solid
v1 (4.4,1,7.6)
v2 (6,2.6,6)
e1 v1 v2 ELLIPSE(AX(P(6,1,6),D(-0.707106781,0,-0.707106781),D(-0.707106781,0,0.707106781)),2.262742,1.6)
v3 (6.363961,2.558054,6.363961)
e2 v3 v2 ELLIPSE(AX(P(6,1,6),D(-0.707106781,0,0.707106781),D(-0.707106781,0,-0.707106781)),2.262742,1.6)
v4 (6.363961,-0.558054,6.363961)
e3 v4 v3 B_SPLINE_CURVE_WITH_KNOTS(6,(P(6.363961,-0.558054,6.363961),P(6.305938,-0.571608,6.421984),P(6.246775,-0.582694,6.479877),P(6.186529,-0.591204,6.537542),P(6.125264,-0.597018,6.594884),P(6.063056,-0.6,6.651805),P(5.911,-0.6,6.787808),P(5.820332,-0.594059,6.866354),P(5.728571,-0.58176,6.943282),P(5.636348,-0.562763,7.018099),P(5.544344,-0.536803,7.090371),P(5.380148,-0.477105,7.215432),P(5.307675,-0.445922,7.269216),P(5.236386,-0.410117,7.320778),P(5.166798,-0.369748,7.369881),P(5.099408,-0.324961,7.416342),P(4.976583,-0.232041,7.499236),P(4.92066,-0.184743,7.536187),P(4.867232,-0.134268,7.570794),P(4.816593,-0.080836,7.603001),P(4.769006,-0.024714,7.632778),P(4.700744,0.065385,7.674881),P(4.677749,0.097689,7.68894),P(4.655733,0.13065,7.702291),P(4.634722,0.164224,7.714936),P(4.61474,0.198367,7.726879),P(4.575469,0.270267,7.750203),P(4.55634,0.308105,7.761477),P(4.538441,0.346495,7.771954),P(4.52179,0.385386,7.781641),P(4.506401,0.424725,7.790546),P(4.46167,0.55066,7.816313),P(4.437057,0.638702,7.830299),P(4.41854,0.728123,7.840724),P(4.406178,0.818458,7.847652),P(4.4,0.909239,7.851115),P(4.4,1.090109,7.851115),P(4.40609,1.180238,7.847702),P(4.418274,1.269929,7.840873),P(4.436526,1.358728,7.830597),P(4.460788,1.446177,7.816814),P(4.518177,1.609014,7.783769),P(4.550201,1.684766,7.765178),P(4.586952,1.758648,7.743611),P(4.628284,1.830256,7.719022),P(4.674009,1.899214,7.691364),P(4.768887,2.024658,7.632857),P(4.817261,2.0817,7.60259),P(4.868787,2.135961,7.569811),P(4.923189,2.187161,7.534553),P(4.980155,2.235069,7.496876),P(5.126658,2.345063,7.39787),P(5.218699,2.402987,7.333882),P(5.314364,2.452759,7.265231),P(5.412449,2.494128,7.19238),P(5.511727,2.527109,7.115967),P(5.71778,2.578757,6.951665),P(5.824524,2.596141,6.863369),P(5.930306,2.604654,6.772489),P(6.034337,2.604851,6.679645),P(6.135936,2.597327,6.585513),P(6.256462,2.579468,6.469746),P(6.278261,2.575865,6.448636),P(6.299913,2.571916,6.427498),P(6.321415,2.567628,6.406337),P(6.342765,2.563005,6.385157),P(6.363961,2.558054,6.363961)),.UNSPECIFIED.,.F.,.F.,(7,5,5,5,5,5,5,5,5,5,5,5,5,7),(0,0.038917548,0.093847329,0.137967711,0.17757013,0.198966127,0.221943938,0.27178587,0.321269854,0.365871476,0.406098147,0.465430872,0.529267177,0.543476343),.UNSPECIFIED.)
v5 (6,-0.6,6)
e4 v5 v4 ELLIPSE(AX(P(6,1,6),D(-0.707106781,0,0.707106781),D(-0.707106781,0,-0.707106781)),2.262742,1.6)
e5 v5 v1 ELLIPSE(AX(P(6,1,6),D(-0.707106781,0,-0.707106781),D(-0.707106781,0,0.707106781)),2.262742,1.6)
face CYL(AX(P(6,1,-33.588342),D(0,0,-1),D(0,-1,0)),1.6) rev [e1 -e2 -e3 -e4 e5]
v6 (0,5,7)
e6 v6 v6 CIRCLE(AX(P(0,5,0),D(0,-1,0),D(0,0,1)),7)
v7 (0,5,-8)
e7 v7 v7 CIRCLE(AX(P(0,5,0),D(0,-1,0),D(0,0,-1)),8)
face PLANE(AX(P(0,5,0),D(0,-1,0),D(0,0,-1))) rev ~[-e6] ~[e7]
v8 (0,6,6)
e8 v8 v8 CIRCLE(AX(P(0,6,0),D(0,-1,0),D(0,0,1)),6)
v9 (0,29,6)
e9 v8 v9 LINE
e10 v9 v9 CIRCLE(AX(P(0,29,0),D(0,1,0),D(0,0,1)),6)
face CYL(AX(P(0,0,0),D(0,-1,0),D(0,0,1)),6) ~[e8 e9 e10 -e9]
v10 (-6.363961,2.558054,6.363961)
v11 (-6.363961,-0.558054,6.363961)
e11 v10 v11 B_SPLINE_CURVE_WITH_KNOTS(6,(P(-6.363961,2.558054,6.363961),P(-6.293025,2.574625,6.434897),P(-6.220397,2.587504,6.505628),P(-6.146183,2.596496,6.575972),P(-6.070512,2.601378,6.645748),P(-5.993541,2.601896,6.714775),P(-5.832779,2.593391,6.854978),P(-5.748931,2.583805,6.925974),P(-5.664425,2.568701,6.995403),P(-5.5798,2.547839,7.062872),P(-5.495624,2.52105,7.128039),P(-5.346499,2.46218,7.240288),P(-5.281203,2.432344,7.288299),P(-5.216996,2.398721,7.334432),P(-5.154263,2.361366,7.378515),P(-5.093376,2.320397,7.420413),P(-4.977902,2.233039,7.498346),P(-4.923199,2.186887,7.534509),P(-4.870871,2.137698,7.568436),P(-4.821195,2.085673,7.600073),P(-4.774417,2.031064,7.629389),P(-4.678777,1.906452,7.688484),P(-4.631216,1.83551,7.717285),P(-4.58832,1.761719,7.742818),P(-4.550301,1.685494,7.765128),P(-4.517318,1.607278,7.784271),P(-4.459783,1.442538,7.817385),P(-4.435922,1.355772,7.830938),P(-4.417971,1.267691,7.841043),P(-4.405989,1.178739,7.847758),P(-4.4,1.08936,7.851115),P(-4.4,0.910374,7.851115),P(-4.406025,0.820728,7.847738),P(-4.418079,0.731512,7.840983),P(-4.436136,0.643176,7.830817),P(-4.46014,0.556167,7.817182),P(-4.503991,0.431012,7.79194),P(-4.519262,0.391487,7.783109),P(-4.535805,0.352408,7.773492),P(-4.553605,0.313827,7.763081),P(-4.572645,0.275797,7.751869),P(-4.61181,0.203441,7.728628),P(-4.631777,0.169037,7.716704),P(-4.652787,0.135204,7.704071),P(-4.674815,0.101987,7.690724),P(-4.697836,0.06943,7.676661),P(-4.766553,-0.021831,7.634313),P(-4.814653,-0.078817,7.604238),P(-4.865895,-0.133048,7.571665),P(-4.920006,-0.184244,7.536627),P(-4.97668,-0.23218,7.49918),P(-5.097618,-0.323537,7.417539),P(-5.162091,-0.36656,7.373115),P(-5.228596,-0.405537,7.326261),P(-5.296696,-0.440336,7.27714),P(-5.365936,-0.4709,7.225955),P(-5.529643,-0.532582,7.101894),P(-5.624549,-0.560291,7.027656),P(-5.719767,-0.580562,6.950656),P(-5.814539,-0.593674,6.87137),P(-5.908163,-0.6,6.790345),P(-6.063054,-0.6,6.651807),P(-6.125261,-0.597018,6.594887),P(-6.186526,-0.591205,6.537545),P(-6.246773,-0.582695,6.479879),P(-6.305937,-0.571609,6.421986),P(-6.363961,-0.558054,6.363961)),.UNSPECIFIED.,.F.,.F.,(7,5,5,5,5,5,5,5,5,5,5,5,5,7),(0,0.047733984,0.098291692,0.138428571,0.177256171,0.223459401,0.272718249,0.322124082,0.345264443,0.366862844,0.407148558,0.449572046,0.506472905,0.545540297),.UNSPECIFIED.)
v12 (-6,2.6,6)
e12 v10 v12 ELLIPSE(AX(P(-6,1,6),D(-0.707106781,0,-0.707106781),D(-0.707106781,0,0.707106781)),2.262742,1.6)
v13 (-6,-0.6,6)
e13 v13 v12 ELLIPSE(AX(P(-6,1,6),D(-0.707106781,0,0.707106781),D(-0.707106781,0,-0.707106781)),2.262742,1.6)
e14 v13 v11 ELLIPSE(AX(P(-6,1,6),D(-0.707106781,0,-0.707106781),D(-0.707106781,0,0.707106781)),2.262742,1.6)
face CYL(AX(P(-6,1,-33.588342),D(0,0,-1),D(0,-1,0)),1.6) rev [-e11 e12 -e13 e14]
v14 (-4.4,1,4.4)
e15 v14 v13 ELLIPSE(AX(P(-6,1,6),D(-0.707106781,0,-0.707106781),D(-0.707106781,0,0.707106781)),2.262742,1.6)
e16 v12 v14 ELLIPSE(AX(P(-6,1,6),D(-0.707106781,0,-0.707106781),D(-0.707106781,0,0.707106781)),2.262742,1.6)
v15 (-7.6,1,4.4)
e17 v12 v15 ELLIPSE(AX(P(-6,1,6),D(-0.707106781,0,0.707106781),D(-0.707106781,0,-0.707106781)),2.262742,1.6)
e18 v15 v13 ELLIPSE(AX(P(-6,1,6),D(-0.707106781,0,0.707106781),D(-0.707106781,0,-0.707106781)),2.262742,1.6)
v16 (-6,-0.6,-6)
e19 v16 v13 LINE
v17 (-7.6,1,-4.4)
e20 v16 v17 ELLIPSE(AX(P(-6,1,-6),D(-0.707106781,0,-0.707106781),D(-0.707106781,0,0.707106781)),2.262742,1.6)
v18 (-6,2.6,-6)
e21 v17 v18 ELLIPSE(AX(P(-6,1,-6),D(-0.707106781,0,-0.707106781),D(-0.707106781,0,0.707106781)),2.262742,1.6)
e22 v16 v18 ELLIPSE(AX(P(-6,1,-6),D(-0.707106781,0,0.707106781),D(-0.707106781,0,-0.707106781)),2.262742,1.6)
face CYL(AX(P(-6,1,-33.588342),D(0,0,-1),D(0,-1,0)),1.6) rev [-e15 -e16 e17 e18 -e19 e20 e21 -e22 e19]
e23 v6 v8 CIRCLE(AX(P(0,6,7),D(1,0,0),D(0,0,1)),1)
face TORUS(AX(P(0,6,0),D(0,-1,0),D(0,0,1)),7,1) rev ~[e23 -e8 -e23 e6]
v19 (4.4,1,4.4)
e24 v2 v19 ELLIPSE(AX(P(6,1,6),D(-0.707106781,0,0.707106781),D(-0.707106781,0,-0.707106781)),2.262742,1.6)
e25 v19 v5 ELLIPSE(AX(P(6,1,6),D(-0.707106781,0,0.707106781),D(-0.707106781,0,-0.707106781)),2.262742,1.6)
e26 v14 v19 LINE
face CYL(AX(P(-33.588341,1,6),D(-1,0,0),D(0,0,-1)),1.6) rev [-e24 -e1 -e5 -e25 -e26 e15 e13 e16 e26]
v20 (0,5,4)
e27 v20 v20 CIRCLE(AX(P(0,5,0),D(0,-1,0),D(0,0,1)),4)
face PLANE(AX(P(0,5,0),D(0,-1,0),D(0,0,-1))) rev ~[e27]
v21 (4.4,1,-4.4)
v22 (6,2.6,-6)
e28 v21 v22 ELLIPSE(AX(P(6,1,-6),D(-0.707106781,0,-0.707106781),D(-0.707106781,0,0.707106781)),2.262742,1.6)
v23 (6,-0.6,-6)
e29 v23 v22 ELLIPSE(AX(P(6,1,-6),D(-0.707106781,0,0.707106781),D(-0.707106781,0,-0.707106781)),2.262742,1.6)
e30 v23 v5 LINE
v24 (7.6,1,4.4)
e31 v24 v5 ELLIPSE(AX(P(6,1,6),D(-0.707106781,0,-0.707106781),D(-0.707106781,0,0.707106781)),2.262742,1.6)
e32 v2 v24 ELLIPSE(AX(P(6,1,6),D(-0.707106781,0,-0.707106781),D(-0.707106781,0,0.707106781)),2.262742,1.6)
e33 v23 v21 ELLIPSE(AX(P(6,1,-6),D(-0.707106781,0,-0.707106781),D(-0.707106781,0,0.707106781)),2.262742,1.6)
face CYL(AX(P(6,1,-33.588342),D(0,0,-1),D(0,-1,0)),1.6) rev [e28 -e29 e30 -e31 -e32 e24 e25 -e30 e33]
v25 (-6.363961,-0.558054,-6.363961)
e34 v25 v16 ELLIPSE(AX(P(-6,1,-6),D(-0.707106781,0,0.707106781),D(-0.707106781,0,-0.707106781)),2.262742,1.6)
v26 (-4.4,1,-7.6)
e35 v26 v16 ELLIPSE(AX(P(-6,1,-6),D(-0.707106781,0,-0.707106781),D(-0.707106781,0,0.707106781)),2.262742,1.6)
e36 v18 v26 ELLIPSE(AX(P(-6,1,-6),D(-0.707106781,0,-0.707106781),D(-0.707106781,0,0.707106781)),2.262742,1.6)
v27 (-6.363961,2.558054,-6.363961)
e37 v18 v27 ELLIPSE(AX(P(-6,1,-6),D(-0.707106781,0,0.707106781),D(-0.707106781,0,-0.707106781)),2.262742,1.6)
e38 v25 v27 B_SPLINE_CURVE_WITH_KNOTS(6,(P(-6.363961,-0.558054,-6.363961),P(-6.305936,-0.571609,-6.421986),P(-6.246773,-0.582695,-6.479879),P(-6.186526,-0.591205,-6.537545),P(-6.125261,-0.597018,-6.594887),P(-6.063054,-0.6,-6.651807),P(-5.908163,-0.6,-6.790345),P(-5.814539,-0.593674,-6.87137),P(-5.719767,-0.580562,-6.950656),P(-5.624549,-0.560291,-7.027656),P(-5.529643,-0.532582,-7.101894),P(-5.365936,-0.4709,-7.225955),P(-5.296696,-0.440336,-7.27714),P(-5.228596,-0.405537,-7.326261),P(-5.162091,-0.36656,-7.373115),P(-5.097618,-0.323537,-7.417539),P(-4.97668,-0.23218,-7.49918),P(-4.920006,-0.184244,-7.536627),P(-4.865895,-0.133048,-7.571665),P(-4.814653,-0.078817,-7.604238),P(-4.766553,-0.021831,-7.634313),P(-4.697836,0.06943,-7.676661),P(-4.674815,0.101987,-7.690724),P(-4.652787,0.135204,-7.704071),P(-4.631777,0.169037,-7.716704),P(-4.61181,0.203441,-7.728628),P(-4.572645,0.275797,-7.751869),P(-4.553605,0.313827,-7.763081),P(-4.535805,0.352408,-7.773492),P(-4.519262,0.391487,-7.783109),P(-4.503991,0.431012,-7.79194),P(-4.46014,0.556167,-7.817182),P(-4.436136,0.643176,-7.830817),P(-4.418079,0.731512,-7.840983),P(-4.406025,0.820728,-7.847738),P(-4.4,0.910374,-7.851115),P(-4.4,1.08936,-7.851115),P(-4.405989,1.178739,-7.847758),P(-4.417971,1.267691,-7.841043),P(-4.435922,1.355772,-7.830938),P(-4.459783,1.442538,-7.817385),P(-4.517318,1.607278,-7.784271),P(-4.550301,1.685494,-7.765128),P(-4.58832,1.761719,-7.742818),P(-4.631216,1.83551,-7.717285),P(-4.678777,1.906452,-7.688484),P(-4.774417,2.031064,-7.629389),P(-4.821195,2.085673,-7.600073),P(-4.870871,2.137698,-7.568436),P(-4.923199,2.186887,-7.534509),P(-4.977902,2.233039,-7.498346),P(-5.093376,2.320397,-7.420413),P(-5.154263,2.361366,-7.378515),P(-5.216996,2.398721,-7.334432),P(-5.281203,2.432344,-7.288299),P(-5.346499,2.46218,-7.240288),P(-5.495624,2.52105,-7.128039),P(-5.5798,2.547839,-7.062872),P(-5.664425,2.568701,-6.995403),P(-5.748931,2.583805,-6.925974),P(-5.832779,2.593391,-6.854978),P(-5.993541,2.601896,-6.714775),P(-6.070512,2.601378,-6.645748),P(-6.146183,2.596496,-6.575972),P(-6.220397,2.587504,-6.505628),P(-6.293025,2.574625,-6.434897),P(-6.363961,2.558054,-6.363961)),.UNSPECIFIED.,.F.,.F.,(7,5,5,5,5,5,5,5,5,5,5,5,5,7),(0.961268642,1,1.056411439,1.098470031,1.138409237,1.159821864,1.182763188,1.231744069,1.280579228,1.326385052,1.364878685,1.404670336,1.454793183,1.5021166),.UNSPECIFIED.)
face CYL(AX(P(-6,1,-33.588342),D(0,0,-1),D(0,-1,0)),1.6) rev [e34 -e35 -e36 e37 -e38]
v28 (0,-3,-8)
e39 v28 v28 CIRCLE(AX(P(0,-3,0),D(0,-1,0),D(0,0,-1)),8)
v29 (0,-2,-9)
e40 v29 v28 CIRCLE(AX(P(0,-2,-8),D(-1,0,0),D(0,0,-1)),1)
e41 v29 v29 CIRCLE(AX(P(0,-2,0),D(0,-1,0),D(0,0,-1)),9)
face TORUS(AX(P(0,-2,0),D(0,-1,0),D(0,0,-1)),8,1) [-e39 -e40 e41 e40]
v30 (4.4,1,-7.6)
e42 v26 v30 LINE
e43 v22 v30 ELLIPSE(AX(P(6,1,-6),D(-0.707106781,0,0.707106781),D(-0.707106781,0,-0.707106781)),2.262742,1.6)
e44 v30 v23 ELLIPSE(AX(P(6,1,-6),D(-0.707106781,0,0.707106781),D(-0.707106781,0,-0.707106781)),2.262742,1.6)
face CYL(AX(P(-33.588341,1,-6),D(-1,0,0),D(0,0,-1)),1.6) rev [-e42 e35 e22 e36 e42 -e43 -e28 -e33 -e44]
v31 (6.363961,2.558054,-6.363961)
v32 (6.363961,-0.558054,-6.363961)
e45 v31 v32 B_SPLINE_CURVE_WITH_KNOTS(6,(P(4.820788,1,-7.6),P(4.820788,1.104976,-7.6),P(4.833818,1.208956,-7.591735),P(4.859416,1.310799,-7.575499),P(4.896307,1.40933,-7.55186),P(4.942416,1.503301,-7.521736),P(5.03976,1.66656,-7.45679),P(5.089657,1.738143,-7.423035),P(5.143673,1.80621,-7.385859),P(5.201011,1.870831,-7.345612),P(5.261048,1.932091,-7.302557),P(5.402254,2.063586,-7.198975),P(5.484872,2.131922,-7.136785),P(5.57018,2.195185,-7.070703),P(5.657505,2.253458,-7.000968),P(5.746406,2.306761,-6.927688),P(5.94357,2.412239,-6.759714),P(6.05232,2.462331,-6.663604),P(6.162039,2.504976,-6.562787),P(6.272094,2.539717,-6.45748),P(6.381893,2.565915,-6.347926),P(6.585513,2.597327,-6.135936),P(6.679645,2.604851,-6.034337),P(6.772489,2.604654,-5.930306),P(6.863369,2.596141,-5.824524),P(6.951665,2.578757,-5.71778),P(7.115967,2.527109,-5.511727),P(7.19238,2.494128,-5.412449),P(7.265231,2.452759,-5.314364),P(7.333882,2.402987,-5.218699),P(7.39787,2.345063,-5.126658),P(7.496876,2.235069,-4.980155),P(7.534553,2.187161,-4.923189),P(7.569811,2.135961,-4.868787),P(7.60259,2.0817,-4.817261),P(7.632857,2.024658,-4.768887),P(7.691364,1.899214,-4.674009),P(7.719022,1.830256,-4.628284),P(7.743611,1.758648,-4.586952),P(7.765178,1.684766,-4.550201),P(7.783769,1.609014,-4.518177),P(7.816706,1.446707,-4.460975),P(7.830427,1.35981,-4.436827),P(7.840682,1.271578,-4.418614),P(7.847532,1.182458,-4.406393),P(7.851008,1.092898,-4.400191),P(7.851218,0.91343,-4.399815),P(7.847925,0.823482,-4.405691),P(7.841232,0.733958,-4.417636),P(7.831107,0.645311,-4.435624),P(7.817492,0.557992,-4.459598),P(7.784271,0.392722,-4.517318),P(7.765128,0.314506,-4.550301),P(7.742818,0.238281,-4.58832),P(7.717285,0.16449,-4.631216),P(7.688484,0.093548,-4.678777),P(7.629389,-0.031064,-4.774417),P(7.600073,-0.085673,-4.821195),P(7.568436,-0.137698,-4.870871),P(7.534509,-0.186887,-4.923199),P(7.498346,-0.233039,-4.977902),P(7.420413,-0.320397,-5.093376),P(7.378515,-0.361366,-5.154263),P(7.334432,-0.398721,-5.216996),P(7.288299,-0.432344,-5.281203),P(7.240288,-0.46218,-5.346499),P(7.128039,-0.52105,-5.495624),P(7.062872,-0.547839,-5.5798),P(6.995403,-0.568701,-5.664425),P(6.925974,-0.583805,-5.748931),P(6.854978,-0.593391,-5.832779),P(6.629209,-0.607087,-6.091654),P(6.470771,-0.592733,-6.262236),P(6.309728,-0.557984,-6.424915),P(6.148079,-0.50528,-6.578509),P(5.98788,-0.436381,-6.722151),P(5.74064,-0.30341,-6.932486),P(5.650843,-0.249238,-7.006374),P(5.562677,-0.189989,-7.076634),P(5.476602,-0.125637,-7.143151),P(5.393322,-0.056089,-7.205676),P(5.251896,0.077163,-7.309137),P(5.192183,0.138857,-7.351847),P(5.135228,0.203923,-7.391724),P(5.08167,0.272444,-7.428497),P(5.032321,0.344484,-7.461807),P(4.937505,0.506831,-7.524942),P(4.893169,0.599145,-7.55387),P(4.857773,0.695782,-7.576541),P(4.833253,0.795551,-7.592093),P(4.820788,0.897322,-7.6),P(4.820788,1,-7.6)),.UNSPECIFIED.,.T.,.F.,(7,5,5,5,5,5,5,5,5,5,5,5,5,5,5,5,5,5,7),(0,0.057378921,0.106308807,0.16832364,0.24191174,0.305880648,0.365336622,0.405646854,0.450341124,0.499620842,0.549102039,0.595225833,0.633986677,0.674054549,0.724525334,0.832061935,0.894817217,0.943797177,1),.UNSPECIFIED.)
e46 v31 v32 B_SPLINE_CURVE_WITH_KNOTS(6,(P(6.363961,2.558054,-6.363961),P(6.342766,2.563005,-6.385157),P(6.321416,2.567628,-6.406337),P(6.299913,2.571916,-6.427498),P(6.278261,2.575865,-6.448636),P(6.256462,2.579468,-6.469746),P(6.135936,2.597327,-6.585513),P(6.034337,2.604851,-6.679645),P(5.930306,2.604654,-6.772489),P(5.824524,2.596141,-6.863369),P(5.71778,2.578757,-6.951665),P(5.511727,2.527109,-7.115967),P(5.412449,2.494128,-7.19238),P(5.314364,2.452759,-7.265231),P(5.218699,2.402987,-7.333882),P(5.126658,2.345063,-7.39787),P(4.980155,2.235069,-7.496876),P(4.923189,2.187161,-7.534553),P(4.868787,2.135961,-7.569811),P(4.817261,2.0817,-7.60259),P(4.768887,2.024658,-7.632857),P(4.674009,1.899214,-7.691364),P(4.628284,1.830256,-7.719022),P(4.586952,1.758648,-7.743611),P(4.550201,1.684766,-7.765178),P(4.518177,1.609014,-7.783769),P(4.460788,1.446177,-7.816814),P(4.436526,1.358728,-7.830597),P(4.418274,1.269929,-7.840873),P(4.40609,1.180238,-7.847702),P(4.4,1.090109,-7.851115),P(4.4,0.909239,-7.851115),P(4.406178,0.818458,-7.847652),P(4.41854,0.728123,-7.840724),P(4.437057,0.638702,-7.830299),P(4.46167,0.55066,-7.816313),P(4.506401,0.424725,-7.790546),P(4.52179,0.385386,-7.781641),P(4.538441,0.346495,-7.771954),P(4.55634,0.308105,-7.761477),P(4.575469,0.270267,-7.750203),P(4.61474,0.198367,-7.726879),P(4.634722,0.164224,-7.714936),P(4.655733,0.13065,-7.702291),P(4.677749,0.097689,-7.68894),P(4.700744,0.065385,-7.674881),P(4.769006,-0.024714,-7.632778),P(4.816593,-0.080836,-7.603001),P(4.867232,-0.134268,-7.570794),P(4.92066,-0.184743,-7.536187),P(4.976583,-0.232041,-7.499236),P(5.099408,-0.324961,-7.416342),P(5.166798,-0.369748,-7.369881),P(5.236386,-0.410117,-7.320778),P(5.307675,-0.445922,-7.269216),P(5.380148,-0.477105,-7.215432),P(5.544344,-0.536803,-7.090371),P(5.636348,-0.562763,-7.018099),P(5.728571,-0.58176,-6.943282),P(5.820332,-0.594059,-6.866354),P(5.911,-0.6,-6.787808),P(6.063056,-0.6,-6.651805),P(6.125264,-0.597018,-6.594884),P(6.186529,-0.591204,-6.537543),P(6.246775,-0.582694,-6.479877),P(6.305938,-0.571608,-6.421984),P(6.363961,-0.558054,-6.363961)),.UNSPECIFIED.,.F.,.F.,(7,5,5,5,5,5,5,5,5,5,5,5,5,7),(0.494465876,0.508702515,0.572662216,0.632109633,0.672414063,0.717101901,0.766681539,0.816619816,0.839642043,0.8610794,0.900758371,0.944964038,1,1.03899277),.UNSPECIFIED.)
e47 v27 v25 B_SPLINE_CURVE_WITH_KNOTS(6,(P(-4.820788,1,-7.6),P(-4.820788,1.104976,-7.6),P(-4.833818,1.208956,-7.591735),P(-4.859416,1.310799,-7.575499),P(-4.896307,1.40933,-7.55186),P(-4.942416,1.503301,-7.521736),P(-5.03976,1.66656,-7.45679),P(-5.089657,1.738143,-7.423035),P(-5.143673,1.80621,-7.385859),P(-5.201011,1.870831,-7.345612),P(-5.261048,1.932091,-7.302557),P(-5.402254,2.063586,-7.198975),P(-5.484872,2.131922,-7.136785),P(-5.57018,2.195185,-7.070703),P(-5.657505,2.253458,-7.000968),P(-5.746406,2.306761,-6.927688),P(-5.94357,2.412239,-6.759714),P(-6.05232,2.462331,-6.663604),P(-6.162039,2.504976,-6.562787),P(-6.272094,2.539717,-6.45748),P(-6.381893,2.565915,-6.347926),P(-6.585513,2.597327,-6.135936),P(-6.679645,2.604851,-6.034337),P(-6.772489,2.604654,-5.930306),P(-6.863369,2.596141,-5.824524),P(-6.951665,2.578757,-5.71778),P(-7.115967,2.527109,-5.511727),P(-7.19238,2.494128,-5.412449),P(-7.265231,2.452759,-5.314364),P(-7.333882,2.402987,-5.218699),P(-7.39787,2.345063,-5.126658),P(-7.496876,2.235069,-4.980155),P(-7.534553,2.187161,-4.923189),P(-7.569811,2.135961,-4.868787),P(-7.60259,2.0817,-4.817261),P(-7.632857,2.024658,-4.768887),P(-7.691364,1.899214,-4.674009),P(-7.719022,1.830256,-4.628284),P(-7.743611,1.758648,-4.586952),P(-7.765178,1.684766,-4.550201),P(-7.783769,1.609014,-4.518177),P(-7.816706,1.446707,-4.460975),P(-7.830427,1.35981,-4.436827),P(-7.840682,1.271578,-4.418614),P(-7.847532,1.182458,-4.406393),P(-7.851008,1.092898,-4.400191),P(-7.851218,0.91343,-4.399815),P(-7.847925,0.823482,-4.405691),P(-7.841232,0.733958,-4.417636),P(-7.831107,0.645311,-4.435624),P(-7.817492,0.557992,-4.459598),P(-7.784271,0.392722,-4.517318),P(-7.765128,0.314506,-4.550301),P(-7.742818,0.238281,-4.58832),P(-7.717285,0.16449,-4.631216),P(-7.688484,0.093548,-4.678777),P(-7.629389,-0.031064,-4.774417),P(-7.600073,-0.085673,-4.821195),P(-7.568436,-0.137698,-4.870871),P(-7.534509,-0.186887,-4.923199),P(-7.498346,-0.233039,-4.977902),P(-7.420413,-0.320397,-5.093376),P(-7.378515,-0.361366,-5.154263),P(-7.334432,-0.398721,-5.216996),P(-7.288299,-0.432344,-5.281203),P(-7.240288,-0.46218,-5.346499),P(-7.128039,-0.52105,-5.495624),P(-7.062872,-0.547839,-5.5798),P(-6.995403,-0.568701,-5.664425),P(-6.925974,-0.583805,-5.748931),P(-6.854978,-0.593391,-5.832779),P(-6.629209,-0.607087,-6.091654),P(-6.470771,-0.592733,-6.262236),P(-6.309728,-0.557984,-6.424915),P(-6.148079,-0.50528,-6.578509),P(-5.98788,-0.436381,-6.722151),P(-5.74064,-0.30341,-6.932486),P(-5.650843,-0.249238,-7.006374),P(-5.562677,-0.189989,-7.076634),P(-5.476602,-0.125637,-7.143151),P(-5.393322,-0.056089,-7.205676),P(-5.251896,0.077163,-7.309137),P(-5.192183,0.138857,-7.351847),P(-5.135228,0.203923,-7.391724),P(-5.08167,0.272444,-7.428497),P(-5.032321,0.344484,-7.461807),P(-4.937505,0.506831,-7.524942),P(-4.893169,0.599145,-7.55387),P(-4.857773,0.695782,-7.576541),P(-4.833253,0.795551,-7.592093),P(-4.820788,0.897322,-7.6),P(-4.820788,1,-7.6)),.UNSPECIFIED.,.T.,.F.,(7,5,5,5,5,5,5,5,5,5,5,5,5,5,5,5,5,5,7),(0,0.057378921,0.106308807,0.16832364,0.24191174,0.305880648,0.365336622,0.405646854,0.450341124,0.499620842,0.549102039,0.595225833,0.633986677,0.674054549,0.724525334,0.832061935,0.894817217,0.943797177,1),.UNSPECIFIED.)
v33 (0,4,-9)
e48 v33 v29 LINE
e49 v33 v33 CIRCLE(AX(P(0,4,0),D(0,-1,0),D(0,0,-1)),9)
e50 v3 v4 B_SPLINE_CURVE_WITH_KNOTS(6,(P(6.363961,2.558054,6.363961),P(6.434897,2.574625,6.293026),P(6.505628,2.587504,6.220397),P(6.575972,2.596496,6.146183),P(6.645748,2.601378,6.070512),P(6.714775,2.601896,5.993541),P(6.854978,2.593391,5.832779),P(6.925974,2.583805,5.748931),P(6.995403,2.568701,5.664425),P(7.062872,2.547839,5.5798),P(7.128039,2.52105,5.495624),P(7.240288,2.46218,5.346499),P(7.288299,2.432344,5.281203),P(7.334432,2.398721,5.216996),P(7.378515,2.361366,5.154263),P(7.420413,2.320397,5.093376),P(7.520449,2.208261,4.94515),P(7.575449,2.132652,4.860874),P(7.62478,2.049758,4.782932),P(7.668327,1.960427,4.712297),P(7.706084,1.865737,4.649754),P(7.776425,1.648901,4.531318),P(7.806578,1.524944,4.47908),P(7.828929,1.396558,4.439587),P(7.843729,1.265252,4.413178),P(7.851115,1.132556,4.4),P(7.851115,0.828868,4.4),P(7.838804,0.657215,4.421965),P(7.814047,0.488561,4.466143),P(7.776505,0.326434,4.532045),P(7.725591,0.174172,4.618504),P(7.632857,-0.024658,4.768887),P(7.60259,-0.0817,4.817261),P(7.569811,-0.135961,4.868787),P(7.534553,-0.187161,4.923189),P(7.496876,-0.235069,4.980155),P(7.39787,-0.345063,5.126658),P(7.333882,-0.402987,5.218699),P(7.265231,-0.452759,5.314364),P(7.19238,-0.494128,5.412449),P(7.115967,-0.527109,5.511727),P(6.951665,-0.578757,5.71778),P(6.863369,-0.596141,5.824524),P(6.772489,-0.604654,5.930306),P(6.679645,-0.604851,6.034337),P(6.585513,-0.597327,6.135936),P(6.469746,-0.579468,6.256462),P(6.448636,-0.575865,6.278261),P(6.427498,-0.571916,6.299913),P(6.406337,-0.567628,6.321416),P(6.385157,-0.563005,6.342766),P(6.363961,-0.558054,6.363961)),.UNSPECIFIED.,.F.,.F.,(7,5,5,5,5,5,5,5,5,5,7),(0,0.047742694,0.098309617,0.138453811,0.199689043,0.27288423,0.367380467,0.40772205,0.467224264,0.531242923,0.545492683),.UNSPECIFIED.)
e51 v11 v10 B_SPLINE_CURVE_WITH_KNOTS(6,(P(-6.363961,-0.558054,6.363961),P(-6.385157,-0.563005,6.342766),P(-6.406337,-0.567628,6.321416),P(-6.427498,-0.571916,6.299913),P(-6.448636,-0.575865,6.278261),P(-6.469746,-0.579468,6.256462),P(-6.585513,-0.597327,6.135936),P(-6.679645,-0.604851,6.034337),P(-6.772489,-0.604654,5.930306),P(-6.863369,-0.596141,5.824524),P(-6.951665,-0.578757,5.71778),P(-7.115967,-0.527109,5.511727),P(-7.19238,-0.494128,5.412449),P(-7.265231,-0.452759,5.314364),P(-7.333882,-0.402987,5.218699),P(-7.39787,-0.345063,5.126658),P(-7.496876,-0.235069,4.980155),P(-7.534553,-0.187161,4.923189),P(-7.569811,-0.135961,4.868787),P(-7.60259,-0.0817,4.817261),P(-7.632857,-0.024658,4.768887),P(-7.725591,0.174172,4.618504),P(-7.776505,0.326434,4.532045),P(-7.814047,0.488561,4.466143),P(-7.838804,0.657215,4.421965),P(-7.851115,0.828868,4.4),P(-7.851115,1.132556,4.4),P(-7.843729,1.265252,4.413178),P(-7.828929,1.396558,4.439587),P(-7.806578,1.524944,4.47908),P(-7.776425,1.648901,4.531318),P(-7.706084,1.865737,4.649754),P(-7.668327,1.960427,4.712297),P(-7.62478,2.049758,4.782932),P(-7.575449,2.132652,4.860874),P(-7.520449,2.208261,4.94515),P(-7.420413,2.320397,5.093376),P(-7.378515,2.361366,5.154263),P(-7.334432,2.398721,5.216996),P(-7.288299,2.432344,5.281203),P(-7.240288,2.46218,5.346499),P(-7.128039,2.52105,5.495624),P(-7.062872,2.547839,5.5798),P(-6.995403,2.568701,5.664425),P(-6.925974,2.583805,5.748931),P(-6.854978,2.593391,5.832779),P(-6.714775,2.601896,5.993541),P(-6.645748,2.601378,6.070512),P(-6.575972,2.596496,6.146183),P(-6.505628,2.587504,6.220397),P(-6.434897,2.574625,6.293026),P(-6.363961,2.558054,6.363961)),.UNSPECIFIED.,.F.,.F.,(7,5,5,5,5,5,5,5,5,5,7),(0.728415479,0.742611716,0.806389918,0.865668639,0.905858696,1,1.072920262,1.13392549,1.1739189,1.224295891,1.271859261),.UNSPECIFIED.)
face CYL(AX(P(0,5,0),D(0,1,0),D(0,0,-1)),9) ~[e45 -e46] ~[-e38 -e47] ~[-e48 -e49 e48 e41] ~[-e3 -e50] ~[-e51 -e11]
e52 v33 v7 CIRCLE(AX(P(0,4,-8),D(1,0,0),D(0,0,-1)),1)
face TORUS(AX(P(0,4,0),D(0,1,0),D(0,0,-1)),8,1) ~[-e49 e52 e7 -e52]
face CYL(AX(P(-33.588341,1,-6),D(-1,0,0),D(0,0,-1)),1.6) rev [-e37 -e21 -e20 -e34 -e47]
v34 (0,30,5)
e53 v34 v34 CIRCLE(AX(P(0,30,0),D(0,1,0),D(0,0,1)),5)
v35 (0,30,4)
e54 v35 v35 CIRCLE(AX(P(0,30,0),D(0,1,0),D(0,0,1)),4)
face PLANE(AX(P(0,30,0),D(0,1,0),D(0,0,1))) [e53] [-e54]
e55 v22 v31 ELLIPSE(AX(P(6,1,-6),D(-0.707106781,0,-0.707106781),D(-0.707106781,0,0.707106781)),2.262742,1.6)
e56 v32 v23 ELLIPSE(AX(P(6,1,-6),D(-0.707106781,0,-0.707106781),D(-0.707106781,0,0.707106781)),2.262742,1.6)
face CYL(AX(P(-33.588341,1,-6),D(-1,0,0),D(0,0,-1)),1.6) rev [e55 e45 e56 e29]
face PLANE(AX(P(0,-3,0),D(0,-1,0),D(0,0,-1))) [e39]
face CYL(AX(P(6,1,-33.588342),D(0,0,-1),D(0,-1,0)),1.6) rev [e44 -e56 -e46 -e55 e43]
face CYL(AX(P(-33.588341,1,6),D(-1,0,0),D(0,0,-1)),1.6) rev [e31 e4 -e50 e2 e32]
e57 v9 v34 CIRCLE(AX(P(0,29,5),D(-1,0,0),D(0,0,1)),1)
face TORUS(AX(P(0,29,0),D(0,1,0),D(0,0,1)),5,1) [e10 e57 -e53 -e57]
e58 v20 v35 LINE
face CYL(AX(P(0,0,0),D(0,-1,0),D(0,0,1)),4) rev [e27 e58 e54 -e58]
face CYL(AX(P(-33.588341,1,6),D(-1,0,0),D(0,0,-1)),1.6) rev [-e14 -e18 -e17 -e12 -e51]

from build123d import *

# Parameters (mm, degrees)
SKETCH_1_R               = 6
SKETCH_1_R_2             = 4
EXTRUDE_1_DEPTH          = 30
EXTRUDE_2_DEPTH          = 3
EXTRUDE_2_DEPTH_BACK     = 5
SKETCH_2_R               = 9
CUT_EXTRUDE_1_DEPTH      = 33.588341474
CUT_EXTRUDE_1_DEPTH_BACK = 33.588341474
SKETCH_3_R               = 1.6
CUT_EXTRUDE_2_DEPTH      = 33.588341529
CUT_EXTRUDE_2_DEPTH_BACK = 33.588341529
SKETCH_4_R               = 1.6
FILLET_1_R               = 1


with BuildPart() as part:
    # 草图1 → 凸台-拉伸1 (new body)
    with BuildSketch(Plane(origin=(0, 0, 0), x_dir=(1, 0, 0), z_dir=(0, 1, 0))):
        with Locations(Location((0, 0, 0), (0, 0, 270))):
            Circle(SKETCH_1_R)
        with Locations(Location((0, 0, 0), (0, 0, 270))):
            Circle(SKETCH_1_R_2, mode=Mode.SUBTRACT)
    extrude(amount=EXTRUDE_1_DEPTH)

    # 草图2 → 凸台-拉伸2 (add, two sides: drawn at the far end of the back side and taken through both)
    with BuildSketch(Plane.XZ.offset(-EXTRUDE_2_DEPTH_BACK)):
        with Locations(Location((0, 0, 0), (0, 0, 270))):
            Circle(SKETCH_2_R)
    extrude(amount=EXTRUDE_2_DEPTH + EXTRUDE_2_DEPTH_BACK)

    # 草图3 → 切除-拉伸1 (cut, two sides: drawn at the far end of the back side and taken through both)
    with BuildSketch(Plane(origin=(0, 0, 0), x_dir=(0, 0, -1), z_dir=(1, 0, 0)).offset(-CUT_EXTRUDE_1_DEPTH_BACK)):
        with Locations((-6, 1)):
            Circle(SKETCH_3_R)
        with Locations((6, 1)):
            Circle(SKETCH_3_R)
    extrude(amount=CUT_EXTRUDE_1_DEPTH + CUT_EXTRUDE_1_DEPTH_BACK, mode=Mode.SUBTRACT)

    # 草图4 → 切除-拉伸2 (cut, two sides: drawn at the far end of the back side and taken through both)
    with BuildSketch(Plane.XY.offset(-CUT_EXTRUDE_2_DEPTH_BACK)):
        with Locations(Location((-6, 1, 0), (0, 0, 270))):
            Circle(SKETCH_4_R)
        with Locations(Location((6, 1, 0), (0, 0, 270))):
            Circle(SKETCH_4_R)
    extrude(amount=CUT_EXTRUDE_2_DEPTH + CUT_EXTRUDE_2_DEPTH_BACK, mode=Mode.SUBTRACT)

    # 圆角1
    fillet_1_edges = [part.edges().sort_by_distance(p)[0] for p in [
        (0, 5, -6),
        (0, 5, 9),
        (0, -3, 9),
        (0, 30, -6),
    ]]
    fillet(fillet_1_edges, radius=FILLET_1_R)


solid = part.part
